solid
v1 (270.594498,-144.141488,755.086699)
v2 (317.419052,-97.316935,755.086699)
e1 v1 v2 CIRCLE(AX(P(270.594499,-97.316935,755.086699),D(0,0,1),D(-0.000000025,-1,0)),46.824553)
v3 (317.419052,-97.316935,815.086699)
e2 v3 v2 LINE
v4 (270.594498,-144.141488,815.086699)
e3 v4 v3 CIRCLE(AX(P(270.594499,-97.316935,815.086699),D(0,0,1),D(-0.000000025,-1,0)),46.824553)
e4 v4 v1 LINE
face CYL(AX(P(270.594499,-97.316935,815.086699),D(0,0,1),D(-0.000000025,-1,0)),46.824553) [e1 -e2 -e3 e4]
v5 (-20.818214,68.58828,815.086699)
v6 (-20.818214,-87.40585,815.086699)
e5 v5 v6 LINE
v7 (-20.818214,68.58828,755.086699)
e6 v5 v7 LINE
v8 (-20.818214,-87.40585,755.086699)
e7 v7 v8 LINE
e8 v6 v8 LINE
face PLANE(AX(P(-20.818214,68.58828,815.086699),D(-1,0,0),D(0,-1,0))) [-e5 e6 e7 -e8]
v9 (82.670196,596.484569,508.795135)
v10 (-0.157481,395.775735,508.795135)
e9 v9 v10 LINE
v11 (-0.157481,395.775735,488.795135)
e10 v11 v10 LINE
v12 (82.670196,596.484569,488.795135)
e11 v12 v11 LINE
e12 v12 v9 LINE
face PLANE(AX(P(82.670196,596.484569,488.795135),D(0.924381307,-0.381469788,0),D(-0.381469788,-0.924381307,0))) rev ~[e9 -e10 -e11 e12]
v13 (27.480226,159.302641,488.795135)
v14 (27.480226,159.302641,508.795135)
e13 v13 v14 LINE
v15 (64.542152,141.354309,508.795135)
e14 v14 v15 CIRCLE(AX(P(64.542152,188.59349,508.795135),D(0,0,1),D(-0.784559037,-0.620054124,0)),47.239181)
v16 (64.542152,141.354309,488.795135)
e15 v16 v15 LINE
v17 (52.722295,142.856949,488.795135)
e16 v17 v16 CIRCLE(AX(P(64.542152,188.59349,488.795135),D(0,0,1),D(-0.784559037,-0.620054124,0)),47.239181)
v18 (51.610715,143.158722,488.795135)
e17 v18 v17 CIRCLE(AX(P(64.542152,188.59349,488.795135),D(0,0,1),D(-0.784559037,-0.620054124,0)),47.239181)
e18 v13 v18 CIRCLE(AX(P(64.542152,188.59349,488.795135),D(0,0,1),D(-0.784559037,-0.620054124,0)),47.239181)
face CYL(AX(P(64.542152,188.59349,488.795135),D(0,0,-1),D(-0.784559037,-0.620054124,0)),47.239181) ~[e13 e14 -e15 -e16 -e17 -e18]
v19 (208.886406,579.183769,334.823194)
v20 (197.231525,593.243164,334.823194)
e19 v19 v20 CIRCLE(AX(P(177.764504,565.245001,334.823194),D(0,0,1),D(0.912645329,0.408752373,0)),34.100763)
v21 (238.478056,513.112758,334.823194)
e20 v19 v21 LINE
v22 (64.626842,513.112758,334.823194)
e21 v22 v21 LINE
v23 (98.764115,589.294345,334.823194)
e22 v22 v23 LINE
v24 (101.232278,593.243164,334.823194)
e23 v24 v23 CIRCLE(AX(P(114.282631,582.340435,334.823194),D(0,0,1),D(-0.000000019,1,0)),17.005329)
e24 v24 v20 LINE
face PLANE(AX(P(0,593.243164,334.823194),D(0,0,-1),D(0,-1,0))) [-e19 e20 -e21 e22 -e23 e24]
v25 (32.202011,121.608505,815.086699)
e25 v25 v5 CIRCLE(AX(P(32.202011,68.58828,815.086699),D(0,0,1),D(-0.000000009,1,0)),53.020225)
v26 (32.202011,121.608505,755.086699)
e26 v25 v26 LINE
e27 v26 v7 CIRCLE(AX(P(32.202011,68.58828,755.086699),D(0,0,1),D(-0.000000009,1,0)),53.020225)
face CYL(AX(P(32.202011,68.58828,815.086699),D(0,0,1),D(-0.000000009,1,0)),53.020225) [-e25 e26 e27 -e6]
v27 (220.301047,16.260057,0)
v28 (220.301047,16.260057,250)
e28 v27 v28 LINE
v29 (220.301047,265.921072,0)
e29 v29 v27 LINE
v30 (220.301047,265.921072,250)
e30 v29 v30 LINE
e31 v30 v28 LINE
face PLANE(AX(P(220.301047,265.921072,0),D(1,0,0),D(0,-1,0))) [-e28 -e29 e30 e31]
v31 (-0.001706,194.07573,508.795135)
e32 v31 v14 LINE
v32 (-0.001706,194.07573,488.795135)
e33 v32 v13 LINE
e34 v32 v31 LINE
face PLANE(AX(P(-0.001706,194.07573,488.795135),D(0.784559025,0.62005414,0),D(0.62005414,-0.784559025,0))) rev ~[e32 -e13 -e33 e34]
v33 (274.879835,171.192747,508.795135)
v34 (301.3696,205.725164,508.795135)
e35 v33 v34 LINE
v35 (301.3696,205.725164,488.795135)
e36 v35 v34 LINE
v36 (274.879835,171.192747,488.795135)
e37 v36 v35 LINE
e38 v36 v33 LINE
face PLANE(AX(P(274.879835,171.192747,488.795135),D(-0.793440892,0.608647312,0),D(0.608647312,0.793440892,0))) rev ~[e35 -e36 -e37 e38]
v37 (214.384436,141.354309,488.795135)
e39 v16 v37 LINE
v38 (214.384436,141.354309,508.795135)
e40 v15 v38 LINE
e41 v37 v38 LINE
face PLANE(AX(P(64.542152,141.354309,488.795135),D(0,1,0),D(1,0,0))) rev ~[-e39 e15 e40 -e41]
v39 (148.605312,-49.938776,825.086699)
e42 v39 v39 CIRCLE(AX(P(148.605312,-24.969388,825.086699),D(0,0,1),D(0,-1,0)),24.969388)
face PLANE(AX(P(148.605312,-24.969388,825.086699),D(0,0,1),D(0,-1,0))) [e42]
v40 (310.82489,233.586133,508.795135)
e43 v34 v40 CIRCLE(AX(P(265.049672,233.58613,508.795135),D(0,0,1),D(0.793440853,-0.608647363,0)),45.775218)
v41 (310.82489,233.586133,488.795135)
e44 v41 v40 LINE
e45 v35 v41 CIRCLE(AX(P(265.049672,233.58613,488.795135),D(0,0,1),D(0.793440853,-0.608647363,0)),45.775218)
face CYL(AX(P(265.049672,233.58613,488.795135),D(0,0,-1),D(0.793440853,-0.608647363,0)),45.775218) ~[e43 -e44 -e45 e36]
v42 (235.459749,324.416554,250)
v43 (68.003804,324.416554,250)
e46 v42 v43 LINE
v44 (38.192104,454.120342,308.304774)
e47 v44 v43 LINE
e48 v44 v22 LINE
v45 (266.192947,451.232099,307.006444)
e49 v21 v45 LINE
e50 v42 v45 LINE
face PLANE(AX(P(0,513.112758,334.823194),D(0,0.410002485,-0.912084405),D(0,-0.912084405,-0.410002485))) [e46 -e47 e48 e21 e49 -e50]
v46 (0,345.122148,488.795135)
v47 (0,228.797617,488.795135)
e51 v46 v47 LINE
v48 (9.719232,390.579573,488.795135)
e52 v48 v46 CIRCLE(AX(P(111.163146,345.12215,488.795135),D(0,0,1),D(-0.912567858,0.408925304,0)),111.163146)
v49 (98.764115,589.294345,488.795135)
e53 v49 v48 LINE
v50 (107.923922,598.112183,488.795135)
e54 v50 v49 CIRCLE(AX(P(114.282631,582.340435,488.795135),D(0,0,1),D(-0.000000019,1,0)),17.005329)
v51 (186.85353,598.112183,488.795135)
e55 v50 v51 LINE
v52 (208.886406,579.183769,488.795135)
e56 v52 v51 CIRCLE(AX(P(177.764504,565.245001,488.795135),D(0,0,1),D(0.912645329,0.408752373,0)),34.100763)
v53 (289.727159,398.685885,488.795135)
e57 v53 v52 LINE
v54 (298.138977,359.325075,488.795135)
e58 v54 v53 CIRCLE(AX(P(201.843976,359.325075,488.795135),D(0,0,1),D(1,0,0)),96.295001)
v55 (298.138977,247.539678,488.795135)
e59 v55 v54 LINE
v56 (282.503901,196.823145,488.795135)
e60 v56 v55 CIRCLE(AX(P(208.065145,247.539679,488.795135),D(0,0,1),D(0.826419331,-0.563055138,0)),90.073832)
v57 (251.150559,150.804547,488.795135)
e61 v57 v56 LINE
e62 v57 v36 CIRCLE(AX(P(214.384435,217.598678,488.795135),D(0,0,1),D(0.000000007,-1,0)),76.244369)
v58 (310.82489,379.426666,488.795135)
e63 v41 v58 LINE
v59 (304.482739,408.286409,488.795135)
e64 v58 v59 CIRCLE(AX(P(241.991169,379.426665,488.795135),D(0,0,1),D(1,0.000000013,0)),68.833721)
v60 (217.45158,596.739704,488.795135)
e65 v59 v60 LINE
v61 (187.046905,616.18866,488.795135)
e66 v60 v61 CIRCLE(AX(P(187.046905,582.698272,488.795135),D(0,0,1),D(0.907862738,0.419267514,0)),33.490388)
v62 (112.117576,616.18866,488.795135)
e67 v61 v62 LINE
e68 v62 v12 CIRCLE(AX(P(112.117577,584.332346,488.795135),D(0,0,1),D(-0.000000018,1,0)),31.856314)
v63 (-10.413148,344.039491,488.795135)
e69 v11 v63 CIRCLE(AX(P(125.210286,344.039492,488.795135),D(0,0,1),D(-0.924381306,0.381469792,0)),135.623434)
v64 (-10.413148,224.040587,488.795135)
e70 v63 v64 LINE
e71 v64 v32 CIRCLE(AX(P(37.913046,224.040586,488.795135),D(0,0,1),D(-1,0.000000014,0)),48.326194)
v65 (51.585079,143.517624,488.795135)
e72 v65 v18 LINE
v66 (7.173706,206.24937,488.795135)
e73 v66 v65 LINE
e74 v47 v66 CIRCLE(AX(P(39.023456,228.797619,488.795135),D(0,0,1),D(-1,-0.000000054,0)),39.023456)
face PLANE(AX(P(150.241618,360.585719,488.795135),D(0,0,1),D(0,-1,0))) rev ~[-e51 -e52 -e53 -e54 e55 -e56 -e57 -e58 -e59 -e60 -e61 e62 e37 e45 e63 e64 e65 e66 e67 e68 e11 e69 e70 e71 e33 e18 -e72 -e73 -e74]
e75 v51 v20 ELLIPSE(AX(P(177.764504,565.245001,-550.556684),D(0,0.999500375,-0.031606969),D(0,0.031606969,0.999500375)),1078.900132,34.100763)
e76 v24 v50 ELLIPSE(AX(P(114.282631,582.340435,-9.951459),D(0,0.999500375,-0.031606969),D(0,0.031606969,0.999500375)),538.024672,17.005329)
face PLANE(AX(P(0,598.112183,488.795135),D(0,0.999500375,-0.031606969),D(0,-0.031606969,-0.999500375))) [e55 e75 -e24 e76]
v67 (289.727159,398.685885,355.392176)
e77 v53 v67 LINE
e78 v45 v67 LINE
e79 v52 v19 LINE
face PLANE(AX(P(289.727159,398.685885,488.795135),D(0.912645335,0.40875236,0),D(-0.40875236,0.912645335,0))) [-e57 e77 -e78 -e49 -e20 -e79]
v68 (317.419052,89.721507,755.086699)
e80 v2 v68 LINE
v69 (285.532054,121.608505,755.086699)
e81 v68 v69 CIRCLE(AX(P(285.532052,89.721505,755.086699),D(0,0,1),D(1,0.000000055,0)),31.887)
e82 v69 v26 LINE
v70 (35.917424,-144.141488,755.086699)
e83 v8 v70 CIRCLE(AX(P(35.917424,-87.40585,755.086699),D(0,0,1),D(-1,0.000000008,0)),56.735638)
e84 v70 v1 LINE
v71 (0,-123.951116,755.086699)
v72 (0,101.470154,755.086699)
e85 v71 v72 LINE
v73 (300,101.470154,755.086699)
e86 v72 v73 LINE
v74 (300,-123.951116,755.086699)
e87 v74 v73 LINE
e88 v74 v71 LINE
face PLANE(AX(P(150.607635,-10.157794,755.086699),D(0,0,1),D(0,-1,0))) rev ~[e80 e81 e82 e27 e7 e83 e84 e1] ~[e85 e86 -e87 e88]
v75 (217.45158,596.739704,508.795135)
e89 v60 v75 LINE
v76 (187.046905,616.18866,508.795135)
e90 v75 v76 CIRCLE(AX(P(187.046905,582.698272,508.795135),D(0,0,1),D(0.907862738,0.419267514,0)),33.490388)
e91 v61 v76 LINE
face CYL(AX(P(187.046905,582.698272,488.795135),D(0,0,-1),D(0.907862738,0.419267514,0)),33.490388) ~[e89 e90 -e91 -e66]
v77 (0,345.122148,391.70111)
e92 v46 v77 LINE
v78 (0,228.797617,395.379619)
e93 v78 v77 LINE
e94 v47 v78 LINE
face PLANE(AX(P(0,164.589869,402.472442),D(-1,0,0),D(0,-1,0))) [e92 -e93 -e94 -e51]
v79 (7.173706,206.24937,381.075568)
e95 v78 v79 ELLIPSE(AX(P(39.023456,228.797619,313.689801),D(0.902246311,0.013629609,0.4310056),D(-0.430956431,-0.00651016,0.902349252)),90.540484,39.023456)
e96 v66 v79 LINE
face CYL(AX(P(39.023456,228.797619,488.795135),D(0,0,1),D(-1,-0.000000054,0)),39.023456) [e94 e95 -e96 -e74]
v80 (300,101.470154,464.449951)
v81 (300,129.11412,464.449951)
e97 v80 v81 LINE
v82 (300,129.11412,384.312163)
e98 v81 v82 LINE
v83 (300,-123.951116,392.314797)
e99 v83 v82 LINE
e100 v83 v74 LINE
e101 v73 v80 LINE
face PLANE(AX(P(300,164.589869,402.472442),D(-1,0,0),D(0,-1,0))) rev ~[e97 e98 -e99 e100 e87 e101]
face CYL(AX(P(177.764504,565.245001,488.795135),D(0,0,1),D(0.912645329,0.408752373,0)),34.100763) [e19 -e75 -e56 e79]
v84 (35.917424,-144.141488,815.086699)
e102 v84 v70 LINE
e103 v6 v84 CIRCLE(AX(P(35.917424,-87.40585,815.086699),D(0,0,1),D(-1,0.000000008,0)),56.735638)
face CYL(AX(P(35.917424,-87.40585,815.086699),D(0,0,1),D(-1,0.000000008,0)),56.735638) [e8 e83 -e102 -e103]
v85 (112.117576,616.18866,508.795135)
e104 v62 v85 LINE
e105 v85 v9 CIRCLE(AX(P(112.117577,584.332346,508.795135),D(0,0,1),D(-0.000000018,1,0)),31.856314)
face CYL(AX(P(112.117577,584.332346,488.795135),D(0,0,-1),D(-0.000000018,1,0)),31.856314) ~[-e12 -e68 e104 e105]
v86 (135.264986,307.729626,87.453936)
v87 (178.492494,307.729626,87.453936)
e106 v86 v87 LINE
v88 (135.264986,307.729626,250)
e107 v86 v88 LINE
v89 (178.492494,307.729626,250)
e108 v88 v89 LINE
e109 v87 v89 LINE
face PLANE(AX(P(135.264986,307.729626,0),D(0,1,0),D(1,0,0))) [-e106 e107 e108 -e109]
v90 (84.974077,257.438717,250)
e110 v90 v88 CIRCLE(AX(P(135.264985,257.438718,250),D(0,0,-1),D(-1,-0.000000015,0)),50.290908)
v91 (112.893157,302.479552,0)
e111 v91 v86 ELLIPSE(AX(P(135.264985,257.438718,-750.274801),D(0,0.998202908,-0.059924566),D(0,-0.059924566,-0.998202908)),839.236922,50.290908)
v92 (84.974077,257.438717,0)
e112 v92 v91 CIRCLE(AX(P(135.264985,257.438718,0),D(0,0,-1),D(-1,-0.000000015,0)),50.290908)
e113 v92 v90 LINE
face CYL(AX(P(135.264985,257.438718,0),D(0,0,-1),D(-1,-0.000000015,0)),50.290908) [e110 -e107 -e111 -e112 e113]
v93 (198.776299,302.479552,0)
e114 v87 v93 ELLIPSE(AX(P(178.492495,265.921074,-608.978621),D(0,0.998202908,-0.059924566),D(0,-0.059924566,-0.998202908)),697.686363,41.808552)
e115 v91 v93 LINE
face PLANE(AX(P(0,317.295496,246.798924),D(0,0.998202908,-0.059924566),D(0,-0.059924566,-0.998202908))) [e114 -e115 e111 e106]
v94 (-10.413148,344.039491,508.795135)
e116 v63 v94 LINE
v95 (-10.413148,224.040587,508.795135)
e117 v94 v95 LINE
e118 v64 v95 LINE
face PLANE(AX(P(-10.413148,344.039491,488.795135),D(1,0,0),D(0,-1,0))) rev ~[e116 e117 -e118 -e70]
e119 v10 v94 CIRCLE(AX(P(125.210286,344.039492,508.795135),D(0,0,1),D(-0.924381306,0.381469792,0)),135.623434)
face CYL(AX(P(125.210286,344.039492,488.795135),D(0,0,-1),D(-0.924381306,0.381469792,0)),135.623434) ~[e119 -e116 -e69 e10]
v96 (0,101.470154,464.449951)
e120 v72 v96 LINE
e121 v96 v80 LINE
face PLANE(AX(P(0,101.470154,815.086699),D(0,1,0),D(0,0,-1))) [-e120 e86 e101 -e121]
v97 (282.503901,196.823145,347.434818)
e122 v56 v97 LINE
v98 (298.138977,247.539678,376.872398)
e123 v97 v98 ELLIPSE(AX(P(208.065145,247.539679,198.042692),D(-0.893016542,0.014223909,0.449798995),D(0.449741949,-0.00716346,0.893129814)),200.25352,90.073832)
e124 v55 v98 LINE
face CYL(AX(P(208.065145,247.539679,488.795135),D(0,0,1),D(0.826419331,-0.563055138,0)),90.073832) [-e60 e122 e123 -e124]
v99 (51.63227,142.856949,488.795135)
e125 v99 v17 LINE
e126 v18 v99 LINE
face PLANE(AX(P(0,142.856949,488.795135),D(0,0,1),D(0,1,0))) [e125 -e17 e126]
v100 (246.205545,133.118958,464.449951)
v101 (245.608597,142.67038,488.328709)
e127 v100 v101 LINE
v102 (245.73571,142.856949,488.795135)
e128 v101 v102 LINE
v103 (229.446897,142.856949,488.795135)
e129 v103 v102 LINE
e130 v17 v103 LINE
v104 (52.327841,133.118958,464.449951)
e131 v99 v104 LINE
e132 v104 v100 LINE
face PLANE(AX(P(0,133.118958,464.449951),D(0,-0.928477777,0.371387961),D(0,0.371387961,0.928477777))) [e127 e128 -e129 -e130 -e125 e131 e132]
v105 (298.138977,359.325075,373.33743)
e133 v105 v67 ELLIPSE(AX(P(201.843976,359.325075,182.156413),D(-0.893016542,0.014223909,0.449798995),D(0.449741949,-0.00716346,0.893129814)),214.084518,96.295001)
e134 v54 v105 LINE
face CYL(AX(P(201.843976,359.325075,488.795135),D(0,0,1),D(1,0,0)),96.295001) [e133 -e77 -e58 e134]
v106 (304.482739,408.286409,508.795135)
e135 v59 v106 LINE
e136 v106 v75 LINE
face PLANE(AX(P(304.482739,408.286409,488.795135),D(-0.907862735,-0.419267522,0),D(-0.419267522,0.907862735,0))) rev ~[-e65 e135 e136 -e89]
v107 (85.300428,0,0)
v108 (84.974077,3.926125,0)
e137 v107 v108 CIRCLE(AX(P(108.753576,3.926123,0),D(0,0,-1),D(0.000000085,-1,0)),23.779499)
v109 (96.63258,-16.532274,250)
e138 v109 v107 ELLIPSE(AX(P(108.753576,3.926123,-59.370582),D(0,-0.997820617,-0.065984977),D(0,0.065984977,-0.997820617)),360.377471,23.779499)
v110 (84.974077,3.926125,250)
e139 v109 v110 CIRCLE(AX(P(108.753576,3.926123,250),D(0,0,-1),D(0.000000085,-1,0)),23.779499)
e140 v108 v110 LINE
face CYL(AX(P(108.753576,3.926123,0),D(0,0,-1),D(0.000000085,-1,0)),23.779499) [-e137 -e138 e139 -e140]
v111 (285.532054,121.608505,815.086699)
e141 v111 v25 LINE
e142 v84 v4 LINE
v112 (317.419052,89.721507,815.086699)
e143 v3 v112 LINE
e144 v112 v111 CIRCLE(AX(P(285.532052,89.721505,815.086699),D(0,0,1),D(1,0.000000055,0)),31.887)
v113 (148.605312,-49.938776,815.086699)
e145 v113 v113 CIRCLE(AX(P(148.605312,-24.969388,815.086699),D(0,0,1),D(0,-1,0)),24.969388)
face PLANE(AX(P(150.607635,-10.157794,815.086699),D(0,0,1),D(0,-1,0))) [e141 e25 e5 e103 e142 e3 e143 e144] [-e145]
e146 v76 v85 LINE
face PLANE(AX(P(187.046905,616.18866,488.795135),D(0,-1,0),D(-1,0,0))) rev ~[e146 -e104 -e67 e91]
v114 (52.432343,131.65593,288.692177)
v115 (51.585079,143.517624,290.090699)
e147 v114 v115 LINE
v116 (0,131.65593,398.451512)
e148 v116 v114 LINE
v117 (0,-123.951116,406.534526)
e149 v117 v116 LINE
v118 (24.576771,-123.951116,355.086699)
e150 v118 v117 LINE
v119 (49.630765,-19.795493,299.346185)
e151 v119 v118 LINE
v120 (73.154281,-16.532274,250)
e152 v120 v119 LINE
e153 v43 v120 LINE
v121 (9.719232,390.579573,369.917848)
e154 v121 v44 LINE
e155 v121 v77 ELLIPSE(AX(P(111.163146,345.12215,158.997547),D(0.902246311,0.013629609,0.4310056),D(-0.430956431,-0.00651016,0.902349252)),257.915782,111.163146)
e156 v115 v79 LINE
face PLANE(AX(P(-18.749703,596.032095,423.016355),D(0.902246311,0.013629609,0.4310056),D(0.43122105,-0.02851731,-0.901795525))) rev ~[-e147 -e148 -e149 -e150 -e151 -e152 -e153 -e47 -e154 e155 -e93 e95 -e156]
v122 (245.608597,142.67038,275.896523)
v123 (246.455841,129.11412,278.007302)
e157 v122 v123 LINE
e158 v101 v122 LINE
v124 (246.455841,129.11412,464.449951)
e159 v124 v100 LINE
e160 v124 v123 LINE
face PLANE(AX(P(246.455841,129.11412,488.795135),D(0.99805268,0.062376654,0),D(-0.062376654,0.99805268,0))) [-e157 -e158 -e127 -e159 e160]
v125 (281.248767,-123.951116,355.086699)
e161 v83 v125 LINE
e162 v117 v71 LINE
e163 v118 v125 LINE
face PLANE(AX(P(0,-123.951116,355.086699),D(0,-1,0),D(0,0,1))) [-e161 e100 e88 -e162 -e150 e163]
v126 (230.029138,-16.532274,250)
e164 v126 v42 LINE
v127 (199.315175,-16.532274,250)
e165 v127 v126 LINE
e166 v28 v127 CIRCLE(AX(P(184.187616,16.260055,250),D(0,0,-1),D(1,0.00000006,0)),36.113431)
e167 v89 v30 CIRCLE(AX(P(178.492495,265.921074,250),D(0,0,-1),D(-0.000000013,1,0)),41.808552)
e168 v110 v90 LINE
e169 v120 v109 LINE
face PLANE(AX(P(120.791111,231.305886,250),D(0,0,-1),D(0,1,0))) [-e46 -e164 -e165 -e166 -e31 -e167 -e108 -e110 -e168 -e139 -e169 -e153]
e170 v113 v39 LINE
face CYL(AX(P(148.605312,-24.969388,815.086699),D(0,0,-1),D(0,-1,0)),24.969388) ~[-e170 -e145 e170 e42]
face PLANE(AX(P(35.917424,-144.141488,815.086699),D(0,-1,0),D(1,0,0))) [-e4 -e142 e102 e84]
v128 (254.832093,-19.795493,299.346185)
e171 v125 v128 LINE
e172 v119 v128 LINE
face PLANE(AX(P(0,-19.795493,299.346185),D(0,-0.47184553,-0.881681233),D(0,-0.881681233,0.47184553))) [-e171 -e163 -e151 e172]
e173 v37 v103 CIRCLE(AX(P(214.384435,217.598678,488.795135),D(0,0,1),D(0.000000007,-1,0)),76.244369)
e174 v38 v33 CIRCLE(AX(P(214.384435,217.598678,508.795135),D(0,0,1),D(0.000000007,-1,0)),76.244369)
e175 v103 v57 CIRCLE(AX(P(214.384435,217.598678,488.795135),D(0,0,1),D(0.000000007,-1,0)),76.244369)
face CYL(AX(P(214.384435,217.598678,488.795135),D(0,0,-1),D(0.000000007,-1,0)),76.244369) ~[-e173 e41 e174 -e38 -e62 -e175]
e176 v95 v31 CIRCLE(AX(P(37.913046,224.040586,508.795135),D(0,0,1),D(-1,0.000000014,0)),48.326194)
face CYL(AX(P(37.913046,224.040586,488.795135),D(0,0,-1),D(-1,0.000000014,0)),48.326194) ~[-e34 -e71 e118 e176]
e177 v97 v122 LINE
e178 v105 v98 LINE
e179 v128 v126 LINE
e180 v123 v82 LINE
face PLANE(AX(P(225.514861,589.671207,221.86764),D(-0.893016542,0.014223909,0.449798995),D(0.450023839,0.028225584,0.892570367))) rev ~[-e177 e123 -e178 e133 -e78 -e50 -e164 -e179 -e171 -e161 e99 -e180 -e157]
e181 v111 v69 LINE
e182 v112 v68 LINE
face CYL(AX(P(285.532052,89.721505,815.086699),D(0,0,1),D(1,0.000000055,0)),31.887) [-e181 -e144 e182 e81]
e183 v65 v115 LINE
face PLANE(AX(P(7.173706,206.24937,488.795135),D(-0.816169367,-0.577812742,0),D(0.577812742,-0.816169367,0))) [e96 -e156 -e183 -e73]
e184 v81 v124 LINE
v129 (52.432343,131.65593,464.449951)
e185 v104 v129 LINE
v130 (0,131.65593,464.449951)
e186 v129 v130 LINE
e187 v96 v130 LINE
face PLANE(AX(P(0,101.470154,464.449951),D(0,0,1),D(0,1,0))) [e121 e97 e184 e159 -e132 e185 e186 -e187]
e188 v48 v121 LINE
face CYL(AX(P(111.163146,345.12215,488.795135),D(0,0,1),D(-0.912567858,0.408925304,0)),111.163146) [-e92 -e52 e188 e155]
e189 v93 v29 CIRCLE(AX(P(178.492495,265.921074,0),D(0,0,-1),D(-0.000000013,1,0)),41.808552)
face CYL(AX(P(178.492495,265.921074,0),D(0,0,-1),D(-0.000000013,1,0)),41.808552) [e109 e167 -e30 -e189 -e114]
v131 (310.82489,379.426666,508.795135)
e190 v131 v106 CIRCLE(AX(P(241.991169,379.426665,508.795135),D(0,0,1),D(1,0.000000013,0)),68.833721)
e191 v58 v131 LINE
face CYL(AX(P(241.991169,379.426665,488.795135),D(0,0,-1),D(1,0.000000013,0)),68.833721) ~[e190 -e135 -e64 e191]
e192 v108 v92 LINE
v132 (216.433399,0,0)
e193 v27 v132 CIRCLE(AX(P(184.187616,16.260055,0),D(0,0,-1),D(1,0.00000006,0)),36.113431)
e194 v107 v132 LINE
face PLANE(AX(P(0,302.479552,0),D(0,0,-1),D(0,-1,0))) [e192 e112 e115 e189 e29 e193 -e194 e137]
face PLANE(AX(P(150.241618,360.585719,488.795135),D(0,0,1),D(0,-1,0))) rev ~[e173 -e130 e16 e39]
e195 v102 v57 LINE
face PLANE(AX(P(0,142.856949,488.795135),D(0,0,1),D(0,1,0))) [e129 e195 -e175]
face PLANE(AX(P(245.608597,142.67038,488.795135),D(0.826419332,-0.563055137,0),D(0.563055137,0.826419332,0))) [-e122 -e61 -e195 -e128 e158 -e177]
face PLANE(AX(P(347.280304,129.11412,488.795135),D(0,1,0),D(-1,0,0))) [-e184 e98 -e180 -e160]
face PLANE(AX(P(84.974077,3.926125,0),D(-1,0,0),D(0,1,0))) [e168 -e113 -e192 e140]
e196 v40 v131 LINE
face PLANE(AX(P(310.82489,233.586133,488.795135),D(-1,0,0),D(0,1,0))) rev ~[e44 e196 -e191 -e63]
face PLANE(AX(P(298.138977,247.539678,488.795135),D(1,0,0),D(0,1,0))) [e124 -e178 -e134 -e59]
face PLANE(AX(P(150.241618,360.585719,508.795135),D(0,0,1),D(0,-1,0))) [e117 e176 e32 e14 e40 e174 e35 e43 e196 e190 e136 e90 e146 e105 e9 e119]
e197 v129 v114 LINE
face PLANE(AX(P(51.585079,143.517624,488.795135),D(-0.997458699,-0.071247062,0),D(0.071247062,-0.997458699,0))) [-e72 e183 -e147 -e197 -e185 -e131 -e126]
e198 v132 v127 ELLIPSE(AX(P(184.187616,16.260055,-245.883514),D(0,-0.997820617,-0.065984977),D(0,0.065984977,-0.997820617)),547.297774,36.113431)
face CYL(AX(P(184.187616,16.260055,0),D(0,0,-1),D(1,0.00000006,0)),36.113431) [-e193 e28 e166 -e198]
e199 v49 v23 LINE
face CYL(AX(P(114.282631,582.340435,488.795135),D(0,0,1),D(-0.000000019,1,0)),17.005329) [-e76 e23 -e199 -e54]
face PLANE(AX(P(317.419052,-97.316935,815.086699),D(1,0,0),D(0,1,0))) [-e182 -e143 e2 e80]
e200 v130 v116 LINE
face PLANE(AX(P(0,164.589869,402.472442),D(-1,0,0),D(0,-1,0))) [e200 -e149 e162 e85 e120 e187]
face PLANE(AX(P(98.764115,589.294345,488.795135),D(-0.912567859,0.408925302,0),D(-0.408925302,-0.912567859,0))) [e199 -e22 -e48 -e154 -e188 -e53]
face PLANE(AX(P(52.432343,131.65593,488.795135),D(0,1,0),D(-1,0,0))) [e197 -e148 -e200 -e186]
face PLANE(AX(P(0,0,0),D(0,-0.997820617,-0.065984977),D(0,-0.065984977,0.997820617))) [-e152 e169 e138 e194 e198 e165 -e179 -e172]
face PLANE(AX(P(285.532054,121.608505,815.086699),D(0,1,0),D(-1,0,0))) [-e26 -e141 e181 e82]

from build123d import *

# Parameters (mm, degrees)
PAD_DEPTH       = 300
POCKET_DEPTH    = 488.796135
SKETCH002_W     = 818.782761
SKETCH002_H     = 489.886894
POCKET001_DEPTH = 250
POCKET002_DEPTH = 732.016625
PAD001_DEPTH    = 20
PAD002_DEPTH    = 60
SKETCH006_R     = 24.969388
PAD003_DEPTH    = 10


with BuildPart() as part:
    # Sketch → Pad (new body)
    with BuildSketch(Plane.YZ):
        Polygon((0, 0), (-19.795493, 299.346185), (-123.951116, 355.086699), (-123.951116, 815.086699), (101.470154, 815.086699), (101.470154, 464.449951), (133.118958, 464.449951), (142.856949, 488.795135), (598.112183, 488.795135), (593.243164, 334.823194), (513.112758, 334.823194), (317.295496, 246.798924), (302.479552, 0), align=None)
    extrude(amount=PAD_DEPTH)

    # Sketch001 (on Face3 of Pad) → Pocket (cut, through all)
    with BuildSketch(Plane(origin=(0, 0, 488.795135), x_dir=(0, -1, 0), z_dir=(0, 0, 1))):
        with BuildLine():
            Line((-398.685885, 289.727159), (-579.183769, 208.886406))
            ThreePointArc((-579.183769, 208.886406), (-593.86479, 196.305532), (-599.345764, 177.764505))
            Line((-599.345764, 177.764505), (-599.345764, 114.282631))
            ThreePointArc((-599.345764, 114.282631), (-596.613394, 105.037965), (-589.294345, 98.764115))
            Line((-589.294345, 98.764115), (-390.579573, 9.719232))
            ThreePointArc((-390.579573, 9.719232), (-368.364571, 2.45696), (-345.122148, 0))
            Line((-345.122148, 0), (-228.797617, 0))
            ThreePointArc((-228.797617, 0), (-216.966667, 1.836648), (-206.24937, 7.173706))
            Line((-206.24937, 7.173706), (-143.517624, 51.585079))
            Line((-143.517624, 51.585079), (-131.65593, 52.432343))
            Line((-131.65593, 52.432343), (-131.65593, -48.39209))
            Line((-131.65593, -48.39209), (-645.098022, -48.39209))
            Line((-645.098022, -48.39209), (-645.098022, 347.280304))
            Line((-645.098022, 347.280304), (-129.11412, 347.280304))
            Line((-129.11412, 347.280304), (-129.11412, 246.455841))
            Line((-129.11412, 246.455841), (-142.67038, 245.608597))
            Line((-142.67038, 245.608597), (-196.823145, 282.503901))
            ThreePointArc((-196.823145, 282.503901), (-221.003748, 294.141504), (-247.539678, 298.138977))
            Line((-247.539678, 298.138977), (-359.325075, 298.138977))
            ThreePointArc((-359.325075, 298.138977), (-379.449886, 296.012544), (-398.685885, 289.727159))
        make_face()
    extrude(amount=-POCKET_DEPTH, mode=Mode.SUBTRACT)

    # Sketch002 (on Face10 of Pocket) → Pocket001 (cut)
    with BuildSketch(Plane.YX):
        with Locations((231.305886, 120.791111)):
            Rectangle(SKETCH002_W, SKETCH002_H)
        with BuildLine():
            Line((-19.853376, 184.187614), (-19.853376, 108.753578))
            ThreePointArc((-19.853376, 108.753578), (-12.888522, 91.938931), (3.926125, 84.974077))
            Line((3.926125, 84.974077), (257.438717, 84.974077))
            ThreePointArc((257.438717, 84.974077), (292.99976, 99.703943), (307.729626, 135.264986))
            Line((307.729626, 135.264986), (307.729626, 178.492494))
            ThreePointArc((307.729626, 178.492494), (295.484184, 208.055606), (265.921072, 220.301047))
            Line((265.921072, 220.301047), (16.260057, 220.301047))
            ThreePointArc((16.260057, 220.301047), (-9.275997, 209.723668), (-19.853376, 184.187614))
        make_face(mode=Mode.SUBTRACT)
    extrude(amount=-POCKET001_DEPTH, mode=Mode.SUBTRACT)

    # Sketch003 (on Face37 of Pocket001) → Pocket002 (cut, through all)
    with BuildSketch(Plane(origin=(0, 582.073055, -18.406761), x_dir=(0, 0.031607, 0.9995), z_dir=(0, 0.9995, -0.031607))):
        Polygon((435.498799, 463.280181), (-86.974939, 463.280181), (-86.974939, 225.514861), (240.394508, 225.514861), (435.498799, 323.83508), align=None)
        Polygon((-86.974939, -130.245743), (441.643773, -130.245743), (441.643773, -18.749703), (232.713184, 81.106918), (-86.974939, 81.106918), align=None)
    extrude(amount=-POCKET002_DEPTH, mode=Mode.SUBTRACT)

    # Sketch004 (on Face13 of Pocket002) → Pad001 (join)
    with BuildSketch(Plane(origin=(0, 0, 488.795135), x_dir=(0, -1, 0), z_dir=(0, 0, 1))):
        with BuildLine():
            Line((-171.192747, 274.879835), (-205.725164, 301.3696))
            ThreePointArc((-205.725164, 301.3696), (-218.875285, 308.396663), (-233.586133, 310.82489))
            Line((-233.586133, 310.82489), (-379.426666, 310.82489))
            ThreePointArc((-379.426666, 310.82489), (-394.200864, 309.220658), (-408.286409, 304.482739))
            Line((-408.286409, 304.482739), (-596.739704, 217.45158))
            ThreePointArc((-596.739704, 217.45158), (-610.910495, 205.093416), (-616.18866, 187.046905))
            Line((-616.18866, 187.046905), (-616.18866, 112.117576))
            ThreePointArc((-616.18866, 112.117576), (-610.808276, 94.401768), (-596.484569, 82.670196))
            Line((-596.484569, 82.670196), (-395.775735, -0.157481))
            ThreePointArc((-395.775735, -0.157481), (-370.410961, -7.824527), (-344.039491, -10.413148))
            Line((-344.039491, -10.413148), (-224.040587, -10.413148))
            ThreePointArc((-224.040587, -10.413148), (-208.179544, -7.736142), (-194.07573, -0.001706))
            Line((-194.07573, -0.001706), (-159.302641, 27.480226))
            ThreePointArc((-159.302641, 27.480226), (-146.077517, 43.952537), (-141.354309, 64.542152))
            Line((-141.354309, 64.542152), (-141.354309, 214.384436))
            ThreePointArc((-141.354309, 214.384436), (-149.219607, 248.111375), (-171.192747, 274.879835))
        make_face()
    extrude(amount=PAD001_DEPTH)

    # Sketch005 (on Face12 of Pad001) → Pad002 (join)
    with BuildSketch(Plane(origin=(0, 0, 815.086699), x_dir=(0, -1, 0), z_dir=(0, 0, 1))):
        with BuildLine():
            Line((-121.608505, 285.532054), (-121.608505, 32.202011))
            ThreePointArc((-121.608505, 32.202011), (-106.07924, -5.28895), (-68.58828, -20.818214))
            Line((-68.58828, -20.818214), (87.40585, -20.818214))
            ThreePointArc((87.40585, -20.818214), (127.524005, -4.20073), (144.141488, 35.917424))
            Line((144.141488, 35.917424), (144.141488, 270.594498))
            ThreePointArc((144.141488, 270.594498), (130.426894, 303.704458), (97.316935, 317.419052))
            Line((97.316935, 317.419052), (-89.721507, 317.419052))
            ThreePointArc((-89.721507, 317.419052), (-112.269019, 308.079566), (-121.608505, 285.532054))
        make_face()
    extrude(amount=-PAD002_DEPTH)

    # Sketch006 (on Face70 of Pad002) → Pad003 (join)
    with BuildSketch(Plane(origin=(0, 0, 815.086699), x_dir=(0, -1, 0), z_dir=(0, 0, 1))):
        with Locations((24.969388, 148.605312)):
            Circle(SKETCH006_R)
    extrude(amount=PAD003_DEPTH)


solid = part.part
